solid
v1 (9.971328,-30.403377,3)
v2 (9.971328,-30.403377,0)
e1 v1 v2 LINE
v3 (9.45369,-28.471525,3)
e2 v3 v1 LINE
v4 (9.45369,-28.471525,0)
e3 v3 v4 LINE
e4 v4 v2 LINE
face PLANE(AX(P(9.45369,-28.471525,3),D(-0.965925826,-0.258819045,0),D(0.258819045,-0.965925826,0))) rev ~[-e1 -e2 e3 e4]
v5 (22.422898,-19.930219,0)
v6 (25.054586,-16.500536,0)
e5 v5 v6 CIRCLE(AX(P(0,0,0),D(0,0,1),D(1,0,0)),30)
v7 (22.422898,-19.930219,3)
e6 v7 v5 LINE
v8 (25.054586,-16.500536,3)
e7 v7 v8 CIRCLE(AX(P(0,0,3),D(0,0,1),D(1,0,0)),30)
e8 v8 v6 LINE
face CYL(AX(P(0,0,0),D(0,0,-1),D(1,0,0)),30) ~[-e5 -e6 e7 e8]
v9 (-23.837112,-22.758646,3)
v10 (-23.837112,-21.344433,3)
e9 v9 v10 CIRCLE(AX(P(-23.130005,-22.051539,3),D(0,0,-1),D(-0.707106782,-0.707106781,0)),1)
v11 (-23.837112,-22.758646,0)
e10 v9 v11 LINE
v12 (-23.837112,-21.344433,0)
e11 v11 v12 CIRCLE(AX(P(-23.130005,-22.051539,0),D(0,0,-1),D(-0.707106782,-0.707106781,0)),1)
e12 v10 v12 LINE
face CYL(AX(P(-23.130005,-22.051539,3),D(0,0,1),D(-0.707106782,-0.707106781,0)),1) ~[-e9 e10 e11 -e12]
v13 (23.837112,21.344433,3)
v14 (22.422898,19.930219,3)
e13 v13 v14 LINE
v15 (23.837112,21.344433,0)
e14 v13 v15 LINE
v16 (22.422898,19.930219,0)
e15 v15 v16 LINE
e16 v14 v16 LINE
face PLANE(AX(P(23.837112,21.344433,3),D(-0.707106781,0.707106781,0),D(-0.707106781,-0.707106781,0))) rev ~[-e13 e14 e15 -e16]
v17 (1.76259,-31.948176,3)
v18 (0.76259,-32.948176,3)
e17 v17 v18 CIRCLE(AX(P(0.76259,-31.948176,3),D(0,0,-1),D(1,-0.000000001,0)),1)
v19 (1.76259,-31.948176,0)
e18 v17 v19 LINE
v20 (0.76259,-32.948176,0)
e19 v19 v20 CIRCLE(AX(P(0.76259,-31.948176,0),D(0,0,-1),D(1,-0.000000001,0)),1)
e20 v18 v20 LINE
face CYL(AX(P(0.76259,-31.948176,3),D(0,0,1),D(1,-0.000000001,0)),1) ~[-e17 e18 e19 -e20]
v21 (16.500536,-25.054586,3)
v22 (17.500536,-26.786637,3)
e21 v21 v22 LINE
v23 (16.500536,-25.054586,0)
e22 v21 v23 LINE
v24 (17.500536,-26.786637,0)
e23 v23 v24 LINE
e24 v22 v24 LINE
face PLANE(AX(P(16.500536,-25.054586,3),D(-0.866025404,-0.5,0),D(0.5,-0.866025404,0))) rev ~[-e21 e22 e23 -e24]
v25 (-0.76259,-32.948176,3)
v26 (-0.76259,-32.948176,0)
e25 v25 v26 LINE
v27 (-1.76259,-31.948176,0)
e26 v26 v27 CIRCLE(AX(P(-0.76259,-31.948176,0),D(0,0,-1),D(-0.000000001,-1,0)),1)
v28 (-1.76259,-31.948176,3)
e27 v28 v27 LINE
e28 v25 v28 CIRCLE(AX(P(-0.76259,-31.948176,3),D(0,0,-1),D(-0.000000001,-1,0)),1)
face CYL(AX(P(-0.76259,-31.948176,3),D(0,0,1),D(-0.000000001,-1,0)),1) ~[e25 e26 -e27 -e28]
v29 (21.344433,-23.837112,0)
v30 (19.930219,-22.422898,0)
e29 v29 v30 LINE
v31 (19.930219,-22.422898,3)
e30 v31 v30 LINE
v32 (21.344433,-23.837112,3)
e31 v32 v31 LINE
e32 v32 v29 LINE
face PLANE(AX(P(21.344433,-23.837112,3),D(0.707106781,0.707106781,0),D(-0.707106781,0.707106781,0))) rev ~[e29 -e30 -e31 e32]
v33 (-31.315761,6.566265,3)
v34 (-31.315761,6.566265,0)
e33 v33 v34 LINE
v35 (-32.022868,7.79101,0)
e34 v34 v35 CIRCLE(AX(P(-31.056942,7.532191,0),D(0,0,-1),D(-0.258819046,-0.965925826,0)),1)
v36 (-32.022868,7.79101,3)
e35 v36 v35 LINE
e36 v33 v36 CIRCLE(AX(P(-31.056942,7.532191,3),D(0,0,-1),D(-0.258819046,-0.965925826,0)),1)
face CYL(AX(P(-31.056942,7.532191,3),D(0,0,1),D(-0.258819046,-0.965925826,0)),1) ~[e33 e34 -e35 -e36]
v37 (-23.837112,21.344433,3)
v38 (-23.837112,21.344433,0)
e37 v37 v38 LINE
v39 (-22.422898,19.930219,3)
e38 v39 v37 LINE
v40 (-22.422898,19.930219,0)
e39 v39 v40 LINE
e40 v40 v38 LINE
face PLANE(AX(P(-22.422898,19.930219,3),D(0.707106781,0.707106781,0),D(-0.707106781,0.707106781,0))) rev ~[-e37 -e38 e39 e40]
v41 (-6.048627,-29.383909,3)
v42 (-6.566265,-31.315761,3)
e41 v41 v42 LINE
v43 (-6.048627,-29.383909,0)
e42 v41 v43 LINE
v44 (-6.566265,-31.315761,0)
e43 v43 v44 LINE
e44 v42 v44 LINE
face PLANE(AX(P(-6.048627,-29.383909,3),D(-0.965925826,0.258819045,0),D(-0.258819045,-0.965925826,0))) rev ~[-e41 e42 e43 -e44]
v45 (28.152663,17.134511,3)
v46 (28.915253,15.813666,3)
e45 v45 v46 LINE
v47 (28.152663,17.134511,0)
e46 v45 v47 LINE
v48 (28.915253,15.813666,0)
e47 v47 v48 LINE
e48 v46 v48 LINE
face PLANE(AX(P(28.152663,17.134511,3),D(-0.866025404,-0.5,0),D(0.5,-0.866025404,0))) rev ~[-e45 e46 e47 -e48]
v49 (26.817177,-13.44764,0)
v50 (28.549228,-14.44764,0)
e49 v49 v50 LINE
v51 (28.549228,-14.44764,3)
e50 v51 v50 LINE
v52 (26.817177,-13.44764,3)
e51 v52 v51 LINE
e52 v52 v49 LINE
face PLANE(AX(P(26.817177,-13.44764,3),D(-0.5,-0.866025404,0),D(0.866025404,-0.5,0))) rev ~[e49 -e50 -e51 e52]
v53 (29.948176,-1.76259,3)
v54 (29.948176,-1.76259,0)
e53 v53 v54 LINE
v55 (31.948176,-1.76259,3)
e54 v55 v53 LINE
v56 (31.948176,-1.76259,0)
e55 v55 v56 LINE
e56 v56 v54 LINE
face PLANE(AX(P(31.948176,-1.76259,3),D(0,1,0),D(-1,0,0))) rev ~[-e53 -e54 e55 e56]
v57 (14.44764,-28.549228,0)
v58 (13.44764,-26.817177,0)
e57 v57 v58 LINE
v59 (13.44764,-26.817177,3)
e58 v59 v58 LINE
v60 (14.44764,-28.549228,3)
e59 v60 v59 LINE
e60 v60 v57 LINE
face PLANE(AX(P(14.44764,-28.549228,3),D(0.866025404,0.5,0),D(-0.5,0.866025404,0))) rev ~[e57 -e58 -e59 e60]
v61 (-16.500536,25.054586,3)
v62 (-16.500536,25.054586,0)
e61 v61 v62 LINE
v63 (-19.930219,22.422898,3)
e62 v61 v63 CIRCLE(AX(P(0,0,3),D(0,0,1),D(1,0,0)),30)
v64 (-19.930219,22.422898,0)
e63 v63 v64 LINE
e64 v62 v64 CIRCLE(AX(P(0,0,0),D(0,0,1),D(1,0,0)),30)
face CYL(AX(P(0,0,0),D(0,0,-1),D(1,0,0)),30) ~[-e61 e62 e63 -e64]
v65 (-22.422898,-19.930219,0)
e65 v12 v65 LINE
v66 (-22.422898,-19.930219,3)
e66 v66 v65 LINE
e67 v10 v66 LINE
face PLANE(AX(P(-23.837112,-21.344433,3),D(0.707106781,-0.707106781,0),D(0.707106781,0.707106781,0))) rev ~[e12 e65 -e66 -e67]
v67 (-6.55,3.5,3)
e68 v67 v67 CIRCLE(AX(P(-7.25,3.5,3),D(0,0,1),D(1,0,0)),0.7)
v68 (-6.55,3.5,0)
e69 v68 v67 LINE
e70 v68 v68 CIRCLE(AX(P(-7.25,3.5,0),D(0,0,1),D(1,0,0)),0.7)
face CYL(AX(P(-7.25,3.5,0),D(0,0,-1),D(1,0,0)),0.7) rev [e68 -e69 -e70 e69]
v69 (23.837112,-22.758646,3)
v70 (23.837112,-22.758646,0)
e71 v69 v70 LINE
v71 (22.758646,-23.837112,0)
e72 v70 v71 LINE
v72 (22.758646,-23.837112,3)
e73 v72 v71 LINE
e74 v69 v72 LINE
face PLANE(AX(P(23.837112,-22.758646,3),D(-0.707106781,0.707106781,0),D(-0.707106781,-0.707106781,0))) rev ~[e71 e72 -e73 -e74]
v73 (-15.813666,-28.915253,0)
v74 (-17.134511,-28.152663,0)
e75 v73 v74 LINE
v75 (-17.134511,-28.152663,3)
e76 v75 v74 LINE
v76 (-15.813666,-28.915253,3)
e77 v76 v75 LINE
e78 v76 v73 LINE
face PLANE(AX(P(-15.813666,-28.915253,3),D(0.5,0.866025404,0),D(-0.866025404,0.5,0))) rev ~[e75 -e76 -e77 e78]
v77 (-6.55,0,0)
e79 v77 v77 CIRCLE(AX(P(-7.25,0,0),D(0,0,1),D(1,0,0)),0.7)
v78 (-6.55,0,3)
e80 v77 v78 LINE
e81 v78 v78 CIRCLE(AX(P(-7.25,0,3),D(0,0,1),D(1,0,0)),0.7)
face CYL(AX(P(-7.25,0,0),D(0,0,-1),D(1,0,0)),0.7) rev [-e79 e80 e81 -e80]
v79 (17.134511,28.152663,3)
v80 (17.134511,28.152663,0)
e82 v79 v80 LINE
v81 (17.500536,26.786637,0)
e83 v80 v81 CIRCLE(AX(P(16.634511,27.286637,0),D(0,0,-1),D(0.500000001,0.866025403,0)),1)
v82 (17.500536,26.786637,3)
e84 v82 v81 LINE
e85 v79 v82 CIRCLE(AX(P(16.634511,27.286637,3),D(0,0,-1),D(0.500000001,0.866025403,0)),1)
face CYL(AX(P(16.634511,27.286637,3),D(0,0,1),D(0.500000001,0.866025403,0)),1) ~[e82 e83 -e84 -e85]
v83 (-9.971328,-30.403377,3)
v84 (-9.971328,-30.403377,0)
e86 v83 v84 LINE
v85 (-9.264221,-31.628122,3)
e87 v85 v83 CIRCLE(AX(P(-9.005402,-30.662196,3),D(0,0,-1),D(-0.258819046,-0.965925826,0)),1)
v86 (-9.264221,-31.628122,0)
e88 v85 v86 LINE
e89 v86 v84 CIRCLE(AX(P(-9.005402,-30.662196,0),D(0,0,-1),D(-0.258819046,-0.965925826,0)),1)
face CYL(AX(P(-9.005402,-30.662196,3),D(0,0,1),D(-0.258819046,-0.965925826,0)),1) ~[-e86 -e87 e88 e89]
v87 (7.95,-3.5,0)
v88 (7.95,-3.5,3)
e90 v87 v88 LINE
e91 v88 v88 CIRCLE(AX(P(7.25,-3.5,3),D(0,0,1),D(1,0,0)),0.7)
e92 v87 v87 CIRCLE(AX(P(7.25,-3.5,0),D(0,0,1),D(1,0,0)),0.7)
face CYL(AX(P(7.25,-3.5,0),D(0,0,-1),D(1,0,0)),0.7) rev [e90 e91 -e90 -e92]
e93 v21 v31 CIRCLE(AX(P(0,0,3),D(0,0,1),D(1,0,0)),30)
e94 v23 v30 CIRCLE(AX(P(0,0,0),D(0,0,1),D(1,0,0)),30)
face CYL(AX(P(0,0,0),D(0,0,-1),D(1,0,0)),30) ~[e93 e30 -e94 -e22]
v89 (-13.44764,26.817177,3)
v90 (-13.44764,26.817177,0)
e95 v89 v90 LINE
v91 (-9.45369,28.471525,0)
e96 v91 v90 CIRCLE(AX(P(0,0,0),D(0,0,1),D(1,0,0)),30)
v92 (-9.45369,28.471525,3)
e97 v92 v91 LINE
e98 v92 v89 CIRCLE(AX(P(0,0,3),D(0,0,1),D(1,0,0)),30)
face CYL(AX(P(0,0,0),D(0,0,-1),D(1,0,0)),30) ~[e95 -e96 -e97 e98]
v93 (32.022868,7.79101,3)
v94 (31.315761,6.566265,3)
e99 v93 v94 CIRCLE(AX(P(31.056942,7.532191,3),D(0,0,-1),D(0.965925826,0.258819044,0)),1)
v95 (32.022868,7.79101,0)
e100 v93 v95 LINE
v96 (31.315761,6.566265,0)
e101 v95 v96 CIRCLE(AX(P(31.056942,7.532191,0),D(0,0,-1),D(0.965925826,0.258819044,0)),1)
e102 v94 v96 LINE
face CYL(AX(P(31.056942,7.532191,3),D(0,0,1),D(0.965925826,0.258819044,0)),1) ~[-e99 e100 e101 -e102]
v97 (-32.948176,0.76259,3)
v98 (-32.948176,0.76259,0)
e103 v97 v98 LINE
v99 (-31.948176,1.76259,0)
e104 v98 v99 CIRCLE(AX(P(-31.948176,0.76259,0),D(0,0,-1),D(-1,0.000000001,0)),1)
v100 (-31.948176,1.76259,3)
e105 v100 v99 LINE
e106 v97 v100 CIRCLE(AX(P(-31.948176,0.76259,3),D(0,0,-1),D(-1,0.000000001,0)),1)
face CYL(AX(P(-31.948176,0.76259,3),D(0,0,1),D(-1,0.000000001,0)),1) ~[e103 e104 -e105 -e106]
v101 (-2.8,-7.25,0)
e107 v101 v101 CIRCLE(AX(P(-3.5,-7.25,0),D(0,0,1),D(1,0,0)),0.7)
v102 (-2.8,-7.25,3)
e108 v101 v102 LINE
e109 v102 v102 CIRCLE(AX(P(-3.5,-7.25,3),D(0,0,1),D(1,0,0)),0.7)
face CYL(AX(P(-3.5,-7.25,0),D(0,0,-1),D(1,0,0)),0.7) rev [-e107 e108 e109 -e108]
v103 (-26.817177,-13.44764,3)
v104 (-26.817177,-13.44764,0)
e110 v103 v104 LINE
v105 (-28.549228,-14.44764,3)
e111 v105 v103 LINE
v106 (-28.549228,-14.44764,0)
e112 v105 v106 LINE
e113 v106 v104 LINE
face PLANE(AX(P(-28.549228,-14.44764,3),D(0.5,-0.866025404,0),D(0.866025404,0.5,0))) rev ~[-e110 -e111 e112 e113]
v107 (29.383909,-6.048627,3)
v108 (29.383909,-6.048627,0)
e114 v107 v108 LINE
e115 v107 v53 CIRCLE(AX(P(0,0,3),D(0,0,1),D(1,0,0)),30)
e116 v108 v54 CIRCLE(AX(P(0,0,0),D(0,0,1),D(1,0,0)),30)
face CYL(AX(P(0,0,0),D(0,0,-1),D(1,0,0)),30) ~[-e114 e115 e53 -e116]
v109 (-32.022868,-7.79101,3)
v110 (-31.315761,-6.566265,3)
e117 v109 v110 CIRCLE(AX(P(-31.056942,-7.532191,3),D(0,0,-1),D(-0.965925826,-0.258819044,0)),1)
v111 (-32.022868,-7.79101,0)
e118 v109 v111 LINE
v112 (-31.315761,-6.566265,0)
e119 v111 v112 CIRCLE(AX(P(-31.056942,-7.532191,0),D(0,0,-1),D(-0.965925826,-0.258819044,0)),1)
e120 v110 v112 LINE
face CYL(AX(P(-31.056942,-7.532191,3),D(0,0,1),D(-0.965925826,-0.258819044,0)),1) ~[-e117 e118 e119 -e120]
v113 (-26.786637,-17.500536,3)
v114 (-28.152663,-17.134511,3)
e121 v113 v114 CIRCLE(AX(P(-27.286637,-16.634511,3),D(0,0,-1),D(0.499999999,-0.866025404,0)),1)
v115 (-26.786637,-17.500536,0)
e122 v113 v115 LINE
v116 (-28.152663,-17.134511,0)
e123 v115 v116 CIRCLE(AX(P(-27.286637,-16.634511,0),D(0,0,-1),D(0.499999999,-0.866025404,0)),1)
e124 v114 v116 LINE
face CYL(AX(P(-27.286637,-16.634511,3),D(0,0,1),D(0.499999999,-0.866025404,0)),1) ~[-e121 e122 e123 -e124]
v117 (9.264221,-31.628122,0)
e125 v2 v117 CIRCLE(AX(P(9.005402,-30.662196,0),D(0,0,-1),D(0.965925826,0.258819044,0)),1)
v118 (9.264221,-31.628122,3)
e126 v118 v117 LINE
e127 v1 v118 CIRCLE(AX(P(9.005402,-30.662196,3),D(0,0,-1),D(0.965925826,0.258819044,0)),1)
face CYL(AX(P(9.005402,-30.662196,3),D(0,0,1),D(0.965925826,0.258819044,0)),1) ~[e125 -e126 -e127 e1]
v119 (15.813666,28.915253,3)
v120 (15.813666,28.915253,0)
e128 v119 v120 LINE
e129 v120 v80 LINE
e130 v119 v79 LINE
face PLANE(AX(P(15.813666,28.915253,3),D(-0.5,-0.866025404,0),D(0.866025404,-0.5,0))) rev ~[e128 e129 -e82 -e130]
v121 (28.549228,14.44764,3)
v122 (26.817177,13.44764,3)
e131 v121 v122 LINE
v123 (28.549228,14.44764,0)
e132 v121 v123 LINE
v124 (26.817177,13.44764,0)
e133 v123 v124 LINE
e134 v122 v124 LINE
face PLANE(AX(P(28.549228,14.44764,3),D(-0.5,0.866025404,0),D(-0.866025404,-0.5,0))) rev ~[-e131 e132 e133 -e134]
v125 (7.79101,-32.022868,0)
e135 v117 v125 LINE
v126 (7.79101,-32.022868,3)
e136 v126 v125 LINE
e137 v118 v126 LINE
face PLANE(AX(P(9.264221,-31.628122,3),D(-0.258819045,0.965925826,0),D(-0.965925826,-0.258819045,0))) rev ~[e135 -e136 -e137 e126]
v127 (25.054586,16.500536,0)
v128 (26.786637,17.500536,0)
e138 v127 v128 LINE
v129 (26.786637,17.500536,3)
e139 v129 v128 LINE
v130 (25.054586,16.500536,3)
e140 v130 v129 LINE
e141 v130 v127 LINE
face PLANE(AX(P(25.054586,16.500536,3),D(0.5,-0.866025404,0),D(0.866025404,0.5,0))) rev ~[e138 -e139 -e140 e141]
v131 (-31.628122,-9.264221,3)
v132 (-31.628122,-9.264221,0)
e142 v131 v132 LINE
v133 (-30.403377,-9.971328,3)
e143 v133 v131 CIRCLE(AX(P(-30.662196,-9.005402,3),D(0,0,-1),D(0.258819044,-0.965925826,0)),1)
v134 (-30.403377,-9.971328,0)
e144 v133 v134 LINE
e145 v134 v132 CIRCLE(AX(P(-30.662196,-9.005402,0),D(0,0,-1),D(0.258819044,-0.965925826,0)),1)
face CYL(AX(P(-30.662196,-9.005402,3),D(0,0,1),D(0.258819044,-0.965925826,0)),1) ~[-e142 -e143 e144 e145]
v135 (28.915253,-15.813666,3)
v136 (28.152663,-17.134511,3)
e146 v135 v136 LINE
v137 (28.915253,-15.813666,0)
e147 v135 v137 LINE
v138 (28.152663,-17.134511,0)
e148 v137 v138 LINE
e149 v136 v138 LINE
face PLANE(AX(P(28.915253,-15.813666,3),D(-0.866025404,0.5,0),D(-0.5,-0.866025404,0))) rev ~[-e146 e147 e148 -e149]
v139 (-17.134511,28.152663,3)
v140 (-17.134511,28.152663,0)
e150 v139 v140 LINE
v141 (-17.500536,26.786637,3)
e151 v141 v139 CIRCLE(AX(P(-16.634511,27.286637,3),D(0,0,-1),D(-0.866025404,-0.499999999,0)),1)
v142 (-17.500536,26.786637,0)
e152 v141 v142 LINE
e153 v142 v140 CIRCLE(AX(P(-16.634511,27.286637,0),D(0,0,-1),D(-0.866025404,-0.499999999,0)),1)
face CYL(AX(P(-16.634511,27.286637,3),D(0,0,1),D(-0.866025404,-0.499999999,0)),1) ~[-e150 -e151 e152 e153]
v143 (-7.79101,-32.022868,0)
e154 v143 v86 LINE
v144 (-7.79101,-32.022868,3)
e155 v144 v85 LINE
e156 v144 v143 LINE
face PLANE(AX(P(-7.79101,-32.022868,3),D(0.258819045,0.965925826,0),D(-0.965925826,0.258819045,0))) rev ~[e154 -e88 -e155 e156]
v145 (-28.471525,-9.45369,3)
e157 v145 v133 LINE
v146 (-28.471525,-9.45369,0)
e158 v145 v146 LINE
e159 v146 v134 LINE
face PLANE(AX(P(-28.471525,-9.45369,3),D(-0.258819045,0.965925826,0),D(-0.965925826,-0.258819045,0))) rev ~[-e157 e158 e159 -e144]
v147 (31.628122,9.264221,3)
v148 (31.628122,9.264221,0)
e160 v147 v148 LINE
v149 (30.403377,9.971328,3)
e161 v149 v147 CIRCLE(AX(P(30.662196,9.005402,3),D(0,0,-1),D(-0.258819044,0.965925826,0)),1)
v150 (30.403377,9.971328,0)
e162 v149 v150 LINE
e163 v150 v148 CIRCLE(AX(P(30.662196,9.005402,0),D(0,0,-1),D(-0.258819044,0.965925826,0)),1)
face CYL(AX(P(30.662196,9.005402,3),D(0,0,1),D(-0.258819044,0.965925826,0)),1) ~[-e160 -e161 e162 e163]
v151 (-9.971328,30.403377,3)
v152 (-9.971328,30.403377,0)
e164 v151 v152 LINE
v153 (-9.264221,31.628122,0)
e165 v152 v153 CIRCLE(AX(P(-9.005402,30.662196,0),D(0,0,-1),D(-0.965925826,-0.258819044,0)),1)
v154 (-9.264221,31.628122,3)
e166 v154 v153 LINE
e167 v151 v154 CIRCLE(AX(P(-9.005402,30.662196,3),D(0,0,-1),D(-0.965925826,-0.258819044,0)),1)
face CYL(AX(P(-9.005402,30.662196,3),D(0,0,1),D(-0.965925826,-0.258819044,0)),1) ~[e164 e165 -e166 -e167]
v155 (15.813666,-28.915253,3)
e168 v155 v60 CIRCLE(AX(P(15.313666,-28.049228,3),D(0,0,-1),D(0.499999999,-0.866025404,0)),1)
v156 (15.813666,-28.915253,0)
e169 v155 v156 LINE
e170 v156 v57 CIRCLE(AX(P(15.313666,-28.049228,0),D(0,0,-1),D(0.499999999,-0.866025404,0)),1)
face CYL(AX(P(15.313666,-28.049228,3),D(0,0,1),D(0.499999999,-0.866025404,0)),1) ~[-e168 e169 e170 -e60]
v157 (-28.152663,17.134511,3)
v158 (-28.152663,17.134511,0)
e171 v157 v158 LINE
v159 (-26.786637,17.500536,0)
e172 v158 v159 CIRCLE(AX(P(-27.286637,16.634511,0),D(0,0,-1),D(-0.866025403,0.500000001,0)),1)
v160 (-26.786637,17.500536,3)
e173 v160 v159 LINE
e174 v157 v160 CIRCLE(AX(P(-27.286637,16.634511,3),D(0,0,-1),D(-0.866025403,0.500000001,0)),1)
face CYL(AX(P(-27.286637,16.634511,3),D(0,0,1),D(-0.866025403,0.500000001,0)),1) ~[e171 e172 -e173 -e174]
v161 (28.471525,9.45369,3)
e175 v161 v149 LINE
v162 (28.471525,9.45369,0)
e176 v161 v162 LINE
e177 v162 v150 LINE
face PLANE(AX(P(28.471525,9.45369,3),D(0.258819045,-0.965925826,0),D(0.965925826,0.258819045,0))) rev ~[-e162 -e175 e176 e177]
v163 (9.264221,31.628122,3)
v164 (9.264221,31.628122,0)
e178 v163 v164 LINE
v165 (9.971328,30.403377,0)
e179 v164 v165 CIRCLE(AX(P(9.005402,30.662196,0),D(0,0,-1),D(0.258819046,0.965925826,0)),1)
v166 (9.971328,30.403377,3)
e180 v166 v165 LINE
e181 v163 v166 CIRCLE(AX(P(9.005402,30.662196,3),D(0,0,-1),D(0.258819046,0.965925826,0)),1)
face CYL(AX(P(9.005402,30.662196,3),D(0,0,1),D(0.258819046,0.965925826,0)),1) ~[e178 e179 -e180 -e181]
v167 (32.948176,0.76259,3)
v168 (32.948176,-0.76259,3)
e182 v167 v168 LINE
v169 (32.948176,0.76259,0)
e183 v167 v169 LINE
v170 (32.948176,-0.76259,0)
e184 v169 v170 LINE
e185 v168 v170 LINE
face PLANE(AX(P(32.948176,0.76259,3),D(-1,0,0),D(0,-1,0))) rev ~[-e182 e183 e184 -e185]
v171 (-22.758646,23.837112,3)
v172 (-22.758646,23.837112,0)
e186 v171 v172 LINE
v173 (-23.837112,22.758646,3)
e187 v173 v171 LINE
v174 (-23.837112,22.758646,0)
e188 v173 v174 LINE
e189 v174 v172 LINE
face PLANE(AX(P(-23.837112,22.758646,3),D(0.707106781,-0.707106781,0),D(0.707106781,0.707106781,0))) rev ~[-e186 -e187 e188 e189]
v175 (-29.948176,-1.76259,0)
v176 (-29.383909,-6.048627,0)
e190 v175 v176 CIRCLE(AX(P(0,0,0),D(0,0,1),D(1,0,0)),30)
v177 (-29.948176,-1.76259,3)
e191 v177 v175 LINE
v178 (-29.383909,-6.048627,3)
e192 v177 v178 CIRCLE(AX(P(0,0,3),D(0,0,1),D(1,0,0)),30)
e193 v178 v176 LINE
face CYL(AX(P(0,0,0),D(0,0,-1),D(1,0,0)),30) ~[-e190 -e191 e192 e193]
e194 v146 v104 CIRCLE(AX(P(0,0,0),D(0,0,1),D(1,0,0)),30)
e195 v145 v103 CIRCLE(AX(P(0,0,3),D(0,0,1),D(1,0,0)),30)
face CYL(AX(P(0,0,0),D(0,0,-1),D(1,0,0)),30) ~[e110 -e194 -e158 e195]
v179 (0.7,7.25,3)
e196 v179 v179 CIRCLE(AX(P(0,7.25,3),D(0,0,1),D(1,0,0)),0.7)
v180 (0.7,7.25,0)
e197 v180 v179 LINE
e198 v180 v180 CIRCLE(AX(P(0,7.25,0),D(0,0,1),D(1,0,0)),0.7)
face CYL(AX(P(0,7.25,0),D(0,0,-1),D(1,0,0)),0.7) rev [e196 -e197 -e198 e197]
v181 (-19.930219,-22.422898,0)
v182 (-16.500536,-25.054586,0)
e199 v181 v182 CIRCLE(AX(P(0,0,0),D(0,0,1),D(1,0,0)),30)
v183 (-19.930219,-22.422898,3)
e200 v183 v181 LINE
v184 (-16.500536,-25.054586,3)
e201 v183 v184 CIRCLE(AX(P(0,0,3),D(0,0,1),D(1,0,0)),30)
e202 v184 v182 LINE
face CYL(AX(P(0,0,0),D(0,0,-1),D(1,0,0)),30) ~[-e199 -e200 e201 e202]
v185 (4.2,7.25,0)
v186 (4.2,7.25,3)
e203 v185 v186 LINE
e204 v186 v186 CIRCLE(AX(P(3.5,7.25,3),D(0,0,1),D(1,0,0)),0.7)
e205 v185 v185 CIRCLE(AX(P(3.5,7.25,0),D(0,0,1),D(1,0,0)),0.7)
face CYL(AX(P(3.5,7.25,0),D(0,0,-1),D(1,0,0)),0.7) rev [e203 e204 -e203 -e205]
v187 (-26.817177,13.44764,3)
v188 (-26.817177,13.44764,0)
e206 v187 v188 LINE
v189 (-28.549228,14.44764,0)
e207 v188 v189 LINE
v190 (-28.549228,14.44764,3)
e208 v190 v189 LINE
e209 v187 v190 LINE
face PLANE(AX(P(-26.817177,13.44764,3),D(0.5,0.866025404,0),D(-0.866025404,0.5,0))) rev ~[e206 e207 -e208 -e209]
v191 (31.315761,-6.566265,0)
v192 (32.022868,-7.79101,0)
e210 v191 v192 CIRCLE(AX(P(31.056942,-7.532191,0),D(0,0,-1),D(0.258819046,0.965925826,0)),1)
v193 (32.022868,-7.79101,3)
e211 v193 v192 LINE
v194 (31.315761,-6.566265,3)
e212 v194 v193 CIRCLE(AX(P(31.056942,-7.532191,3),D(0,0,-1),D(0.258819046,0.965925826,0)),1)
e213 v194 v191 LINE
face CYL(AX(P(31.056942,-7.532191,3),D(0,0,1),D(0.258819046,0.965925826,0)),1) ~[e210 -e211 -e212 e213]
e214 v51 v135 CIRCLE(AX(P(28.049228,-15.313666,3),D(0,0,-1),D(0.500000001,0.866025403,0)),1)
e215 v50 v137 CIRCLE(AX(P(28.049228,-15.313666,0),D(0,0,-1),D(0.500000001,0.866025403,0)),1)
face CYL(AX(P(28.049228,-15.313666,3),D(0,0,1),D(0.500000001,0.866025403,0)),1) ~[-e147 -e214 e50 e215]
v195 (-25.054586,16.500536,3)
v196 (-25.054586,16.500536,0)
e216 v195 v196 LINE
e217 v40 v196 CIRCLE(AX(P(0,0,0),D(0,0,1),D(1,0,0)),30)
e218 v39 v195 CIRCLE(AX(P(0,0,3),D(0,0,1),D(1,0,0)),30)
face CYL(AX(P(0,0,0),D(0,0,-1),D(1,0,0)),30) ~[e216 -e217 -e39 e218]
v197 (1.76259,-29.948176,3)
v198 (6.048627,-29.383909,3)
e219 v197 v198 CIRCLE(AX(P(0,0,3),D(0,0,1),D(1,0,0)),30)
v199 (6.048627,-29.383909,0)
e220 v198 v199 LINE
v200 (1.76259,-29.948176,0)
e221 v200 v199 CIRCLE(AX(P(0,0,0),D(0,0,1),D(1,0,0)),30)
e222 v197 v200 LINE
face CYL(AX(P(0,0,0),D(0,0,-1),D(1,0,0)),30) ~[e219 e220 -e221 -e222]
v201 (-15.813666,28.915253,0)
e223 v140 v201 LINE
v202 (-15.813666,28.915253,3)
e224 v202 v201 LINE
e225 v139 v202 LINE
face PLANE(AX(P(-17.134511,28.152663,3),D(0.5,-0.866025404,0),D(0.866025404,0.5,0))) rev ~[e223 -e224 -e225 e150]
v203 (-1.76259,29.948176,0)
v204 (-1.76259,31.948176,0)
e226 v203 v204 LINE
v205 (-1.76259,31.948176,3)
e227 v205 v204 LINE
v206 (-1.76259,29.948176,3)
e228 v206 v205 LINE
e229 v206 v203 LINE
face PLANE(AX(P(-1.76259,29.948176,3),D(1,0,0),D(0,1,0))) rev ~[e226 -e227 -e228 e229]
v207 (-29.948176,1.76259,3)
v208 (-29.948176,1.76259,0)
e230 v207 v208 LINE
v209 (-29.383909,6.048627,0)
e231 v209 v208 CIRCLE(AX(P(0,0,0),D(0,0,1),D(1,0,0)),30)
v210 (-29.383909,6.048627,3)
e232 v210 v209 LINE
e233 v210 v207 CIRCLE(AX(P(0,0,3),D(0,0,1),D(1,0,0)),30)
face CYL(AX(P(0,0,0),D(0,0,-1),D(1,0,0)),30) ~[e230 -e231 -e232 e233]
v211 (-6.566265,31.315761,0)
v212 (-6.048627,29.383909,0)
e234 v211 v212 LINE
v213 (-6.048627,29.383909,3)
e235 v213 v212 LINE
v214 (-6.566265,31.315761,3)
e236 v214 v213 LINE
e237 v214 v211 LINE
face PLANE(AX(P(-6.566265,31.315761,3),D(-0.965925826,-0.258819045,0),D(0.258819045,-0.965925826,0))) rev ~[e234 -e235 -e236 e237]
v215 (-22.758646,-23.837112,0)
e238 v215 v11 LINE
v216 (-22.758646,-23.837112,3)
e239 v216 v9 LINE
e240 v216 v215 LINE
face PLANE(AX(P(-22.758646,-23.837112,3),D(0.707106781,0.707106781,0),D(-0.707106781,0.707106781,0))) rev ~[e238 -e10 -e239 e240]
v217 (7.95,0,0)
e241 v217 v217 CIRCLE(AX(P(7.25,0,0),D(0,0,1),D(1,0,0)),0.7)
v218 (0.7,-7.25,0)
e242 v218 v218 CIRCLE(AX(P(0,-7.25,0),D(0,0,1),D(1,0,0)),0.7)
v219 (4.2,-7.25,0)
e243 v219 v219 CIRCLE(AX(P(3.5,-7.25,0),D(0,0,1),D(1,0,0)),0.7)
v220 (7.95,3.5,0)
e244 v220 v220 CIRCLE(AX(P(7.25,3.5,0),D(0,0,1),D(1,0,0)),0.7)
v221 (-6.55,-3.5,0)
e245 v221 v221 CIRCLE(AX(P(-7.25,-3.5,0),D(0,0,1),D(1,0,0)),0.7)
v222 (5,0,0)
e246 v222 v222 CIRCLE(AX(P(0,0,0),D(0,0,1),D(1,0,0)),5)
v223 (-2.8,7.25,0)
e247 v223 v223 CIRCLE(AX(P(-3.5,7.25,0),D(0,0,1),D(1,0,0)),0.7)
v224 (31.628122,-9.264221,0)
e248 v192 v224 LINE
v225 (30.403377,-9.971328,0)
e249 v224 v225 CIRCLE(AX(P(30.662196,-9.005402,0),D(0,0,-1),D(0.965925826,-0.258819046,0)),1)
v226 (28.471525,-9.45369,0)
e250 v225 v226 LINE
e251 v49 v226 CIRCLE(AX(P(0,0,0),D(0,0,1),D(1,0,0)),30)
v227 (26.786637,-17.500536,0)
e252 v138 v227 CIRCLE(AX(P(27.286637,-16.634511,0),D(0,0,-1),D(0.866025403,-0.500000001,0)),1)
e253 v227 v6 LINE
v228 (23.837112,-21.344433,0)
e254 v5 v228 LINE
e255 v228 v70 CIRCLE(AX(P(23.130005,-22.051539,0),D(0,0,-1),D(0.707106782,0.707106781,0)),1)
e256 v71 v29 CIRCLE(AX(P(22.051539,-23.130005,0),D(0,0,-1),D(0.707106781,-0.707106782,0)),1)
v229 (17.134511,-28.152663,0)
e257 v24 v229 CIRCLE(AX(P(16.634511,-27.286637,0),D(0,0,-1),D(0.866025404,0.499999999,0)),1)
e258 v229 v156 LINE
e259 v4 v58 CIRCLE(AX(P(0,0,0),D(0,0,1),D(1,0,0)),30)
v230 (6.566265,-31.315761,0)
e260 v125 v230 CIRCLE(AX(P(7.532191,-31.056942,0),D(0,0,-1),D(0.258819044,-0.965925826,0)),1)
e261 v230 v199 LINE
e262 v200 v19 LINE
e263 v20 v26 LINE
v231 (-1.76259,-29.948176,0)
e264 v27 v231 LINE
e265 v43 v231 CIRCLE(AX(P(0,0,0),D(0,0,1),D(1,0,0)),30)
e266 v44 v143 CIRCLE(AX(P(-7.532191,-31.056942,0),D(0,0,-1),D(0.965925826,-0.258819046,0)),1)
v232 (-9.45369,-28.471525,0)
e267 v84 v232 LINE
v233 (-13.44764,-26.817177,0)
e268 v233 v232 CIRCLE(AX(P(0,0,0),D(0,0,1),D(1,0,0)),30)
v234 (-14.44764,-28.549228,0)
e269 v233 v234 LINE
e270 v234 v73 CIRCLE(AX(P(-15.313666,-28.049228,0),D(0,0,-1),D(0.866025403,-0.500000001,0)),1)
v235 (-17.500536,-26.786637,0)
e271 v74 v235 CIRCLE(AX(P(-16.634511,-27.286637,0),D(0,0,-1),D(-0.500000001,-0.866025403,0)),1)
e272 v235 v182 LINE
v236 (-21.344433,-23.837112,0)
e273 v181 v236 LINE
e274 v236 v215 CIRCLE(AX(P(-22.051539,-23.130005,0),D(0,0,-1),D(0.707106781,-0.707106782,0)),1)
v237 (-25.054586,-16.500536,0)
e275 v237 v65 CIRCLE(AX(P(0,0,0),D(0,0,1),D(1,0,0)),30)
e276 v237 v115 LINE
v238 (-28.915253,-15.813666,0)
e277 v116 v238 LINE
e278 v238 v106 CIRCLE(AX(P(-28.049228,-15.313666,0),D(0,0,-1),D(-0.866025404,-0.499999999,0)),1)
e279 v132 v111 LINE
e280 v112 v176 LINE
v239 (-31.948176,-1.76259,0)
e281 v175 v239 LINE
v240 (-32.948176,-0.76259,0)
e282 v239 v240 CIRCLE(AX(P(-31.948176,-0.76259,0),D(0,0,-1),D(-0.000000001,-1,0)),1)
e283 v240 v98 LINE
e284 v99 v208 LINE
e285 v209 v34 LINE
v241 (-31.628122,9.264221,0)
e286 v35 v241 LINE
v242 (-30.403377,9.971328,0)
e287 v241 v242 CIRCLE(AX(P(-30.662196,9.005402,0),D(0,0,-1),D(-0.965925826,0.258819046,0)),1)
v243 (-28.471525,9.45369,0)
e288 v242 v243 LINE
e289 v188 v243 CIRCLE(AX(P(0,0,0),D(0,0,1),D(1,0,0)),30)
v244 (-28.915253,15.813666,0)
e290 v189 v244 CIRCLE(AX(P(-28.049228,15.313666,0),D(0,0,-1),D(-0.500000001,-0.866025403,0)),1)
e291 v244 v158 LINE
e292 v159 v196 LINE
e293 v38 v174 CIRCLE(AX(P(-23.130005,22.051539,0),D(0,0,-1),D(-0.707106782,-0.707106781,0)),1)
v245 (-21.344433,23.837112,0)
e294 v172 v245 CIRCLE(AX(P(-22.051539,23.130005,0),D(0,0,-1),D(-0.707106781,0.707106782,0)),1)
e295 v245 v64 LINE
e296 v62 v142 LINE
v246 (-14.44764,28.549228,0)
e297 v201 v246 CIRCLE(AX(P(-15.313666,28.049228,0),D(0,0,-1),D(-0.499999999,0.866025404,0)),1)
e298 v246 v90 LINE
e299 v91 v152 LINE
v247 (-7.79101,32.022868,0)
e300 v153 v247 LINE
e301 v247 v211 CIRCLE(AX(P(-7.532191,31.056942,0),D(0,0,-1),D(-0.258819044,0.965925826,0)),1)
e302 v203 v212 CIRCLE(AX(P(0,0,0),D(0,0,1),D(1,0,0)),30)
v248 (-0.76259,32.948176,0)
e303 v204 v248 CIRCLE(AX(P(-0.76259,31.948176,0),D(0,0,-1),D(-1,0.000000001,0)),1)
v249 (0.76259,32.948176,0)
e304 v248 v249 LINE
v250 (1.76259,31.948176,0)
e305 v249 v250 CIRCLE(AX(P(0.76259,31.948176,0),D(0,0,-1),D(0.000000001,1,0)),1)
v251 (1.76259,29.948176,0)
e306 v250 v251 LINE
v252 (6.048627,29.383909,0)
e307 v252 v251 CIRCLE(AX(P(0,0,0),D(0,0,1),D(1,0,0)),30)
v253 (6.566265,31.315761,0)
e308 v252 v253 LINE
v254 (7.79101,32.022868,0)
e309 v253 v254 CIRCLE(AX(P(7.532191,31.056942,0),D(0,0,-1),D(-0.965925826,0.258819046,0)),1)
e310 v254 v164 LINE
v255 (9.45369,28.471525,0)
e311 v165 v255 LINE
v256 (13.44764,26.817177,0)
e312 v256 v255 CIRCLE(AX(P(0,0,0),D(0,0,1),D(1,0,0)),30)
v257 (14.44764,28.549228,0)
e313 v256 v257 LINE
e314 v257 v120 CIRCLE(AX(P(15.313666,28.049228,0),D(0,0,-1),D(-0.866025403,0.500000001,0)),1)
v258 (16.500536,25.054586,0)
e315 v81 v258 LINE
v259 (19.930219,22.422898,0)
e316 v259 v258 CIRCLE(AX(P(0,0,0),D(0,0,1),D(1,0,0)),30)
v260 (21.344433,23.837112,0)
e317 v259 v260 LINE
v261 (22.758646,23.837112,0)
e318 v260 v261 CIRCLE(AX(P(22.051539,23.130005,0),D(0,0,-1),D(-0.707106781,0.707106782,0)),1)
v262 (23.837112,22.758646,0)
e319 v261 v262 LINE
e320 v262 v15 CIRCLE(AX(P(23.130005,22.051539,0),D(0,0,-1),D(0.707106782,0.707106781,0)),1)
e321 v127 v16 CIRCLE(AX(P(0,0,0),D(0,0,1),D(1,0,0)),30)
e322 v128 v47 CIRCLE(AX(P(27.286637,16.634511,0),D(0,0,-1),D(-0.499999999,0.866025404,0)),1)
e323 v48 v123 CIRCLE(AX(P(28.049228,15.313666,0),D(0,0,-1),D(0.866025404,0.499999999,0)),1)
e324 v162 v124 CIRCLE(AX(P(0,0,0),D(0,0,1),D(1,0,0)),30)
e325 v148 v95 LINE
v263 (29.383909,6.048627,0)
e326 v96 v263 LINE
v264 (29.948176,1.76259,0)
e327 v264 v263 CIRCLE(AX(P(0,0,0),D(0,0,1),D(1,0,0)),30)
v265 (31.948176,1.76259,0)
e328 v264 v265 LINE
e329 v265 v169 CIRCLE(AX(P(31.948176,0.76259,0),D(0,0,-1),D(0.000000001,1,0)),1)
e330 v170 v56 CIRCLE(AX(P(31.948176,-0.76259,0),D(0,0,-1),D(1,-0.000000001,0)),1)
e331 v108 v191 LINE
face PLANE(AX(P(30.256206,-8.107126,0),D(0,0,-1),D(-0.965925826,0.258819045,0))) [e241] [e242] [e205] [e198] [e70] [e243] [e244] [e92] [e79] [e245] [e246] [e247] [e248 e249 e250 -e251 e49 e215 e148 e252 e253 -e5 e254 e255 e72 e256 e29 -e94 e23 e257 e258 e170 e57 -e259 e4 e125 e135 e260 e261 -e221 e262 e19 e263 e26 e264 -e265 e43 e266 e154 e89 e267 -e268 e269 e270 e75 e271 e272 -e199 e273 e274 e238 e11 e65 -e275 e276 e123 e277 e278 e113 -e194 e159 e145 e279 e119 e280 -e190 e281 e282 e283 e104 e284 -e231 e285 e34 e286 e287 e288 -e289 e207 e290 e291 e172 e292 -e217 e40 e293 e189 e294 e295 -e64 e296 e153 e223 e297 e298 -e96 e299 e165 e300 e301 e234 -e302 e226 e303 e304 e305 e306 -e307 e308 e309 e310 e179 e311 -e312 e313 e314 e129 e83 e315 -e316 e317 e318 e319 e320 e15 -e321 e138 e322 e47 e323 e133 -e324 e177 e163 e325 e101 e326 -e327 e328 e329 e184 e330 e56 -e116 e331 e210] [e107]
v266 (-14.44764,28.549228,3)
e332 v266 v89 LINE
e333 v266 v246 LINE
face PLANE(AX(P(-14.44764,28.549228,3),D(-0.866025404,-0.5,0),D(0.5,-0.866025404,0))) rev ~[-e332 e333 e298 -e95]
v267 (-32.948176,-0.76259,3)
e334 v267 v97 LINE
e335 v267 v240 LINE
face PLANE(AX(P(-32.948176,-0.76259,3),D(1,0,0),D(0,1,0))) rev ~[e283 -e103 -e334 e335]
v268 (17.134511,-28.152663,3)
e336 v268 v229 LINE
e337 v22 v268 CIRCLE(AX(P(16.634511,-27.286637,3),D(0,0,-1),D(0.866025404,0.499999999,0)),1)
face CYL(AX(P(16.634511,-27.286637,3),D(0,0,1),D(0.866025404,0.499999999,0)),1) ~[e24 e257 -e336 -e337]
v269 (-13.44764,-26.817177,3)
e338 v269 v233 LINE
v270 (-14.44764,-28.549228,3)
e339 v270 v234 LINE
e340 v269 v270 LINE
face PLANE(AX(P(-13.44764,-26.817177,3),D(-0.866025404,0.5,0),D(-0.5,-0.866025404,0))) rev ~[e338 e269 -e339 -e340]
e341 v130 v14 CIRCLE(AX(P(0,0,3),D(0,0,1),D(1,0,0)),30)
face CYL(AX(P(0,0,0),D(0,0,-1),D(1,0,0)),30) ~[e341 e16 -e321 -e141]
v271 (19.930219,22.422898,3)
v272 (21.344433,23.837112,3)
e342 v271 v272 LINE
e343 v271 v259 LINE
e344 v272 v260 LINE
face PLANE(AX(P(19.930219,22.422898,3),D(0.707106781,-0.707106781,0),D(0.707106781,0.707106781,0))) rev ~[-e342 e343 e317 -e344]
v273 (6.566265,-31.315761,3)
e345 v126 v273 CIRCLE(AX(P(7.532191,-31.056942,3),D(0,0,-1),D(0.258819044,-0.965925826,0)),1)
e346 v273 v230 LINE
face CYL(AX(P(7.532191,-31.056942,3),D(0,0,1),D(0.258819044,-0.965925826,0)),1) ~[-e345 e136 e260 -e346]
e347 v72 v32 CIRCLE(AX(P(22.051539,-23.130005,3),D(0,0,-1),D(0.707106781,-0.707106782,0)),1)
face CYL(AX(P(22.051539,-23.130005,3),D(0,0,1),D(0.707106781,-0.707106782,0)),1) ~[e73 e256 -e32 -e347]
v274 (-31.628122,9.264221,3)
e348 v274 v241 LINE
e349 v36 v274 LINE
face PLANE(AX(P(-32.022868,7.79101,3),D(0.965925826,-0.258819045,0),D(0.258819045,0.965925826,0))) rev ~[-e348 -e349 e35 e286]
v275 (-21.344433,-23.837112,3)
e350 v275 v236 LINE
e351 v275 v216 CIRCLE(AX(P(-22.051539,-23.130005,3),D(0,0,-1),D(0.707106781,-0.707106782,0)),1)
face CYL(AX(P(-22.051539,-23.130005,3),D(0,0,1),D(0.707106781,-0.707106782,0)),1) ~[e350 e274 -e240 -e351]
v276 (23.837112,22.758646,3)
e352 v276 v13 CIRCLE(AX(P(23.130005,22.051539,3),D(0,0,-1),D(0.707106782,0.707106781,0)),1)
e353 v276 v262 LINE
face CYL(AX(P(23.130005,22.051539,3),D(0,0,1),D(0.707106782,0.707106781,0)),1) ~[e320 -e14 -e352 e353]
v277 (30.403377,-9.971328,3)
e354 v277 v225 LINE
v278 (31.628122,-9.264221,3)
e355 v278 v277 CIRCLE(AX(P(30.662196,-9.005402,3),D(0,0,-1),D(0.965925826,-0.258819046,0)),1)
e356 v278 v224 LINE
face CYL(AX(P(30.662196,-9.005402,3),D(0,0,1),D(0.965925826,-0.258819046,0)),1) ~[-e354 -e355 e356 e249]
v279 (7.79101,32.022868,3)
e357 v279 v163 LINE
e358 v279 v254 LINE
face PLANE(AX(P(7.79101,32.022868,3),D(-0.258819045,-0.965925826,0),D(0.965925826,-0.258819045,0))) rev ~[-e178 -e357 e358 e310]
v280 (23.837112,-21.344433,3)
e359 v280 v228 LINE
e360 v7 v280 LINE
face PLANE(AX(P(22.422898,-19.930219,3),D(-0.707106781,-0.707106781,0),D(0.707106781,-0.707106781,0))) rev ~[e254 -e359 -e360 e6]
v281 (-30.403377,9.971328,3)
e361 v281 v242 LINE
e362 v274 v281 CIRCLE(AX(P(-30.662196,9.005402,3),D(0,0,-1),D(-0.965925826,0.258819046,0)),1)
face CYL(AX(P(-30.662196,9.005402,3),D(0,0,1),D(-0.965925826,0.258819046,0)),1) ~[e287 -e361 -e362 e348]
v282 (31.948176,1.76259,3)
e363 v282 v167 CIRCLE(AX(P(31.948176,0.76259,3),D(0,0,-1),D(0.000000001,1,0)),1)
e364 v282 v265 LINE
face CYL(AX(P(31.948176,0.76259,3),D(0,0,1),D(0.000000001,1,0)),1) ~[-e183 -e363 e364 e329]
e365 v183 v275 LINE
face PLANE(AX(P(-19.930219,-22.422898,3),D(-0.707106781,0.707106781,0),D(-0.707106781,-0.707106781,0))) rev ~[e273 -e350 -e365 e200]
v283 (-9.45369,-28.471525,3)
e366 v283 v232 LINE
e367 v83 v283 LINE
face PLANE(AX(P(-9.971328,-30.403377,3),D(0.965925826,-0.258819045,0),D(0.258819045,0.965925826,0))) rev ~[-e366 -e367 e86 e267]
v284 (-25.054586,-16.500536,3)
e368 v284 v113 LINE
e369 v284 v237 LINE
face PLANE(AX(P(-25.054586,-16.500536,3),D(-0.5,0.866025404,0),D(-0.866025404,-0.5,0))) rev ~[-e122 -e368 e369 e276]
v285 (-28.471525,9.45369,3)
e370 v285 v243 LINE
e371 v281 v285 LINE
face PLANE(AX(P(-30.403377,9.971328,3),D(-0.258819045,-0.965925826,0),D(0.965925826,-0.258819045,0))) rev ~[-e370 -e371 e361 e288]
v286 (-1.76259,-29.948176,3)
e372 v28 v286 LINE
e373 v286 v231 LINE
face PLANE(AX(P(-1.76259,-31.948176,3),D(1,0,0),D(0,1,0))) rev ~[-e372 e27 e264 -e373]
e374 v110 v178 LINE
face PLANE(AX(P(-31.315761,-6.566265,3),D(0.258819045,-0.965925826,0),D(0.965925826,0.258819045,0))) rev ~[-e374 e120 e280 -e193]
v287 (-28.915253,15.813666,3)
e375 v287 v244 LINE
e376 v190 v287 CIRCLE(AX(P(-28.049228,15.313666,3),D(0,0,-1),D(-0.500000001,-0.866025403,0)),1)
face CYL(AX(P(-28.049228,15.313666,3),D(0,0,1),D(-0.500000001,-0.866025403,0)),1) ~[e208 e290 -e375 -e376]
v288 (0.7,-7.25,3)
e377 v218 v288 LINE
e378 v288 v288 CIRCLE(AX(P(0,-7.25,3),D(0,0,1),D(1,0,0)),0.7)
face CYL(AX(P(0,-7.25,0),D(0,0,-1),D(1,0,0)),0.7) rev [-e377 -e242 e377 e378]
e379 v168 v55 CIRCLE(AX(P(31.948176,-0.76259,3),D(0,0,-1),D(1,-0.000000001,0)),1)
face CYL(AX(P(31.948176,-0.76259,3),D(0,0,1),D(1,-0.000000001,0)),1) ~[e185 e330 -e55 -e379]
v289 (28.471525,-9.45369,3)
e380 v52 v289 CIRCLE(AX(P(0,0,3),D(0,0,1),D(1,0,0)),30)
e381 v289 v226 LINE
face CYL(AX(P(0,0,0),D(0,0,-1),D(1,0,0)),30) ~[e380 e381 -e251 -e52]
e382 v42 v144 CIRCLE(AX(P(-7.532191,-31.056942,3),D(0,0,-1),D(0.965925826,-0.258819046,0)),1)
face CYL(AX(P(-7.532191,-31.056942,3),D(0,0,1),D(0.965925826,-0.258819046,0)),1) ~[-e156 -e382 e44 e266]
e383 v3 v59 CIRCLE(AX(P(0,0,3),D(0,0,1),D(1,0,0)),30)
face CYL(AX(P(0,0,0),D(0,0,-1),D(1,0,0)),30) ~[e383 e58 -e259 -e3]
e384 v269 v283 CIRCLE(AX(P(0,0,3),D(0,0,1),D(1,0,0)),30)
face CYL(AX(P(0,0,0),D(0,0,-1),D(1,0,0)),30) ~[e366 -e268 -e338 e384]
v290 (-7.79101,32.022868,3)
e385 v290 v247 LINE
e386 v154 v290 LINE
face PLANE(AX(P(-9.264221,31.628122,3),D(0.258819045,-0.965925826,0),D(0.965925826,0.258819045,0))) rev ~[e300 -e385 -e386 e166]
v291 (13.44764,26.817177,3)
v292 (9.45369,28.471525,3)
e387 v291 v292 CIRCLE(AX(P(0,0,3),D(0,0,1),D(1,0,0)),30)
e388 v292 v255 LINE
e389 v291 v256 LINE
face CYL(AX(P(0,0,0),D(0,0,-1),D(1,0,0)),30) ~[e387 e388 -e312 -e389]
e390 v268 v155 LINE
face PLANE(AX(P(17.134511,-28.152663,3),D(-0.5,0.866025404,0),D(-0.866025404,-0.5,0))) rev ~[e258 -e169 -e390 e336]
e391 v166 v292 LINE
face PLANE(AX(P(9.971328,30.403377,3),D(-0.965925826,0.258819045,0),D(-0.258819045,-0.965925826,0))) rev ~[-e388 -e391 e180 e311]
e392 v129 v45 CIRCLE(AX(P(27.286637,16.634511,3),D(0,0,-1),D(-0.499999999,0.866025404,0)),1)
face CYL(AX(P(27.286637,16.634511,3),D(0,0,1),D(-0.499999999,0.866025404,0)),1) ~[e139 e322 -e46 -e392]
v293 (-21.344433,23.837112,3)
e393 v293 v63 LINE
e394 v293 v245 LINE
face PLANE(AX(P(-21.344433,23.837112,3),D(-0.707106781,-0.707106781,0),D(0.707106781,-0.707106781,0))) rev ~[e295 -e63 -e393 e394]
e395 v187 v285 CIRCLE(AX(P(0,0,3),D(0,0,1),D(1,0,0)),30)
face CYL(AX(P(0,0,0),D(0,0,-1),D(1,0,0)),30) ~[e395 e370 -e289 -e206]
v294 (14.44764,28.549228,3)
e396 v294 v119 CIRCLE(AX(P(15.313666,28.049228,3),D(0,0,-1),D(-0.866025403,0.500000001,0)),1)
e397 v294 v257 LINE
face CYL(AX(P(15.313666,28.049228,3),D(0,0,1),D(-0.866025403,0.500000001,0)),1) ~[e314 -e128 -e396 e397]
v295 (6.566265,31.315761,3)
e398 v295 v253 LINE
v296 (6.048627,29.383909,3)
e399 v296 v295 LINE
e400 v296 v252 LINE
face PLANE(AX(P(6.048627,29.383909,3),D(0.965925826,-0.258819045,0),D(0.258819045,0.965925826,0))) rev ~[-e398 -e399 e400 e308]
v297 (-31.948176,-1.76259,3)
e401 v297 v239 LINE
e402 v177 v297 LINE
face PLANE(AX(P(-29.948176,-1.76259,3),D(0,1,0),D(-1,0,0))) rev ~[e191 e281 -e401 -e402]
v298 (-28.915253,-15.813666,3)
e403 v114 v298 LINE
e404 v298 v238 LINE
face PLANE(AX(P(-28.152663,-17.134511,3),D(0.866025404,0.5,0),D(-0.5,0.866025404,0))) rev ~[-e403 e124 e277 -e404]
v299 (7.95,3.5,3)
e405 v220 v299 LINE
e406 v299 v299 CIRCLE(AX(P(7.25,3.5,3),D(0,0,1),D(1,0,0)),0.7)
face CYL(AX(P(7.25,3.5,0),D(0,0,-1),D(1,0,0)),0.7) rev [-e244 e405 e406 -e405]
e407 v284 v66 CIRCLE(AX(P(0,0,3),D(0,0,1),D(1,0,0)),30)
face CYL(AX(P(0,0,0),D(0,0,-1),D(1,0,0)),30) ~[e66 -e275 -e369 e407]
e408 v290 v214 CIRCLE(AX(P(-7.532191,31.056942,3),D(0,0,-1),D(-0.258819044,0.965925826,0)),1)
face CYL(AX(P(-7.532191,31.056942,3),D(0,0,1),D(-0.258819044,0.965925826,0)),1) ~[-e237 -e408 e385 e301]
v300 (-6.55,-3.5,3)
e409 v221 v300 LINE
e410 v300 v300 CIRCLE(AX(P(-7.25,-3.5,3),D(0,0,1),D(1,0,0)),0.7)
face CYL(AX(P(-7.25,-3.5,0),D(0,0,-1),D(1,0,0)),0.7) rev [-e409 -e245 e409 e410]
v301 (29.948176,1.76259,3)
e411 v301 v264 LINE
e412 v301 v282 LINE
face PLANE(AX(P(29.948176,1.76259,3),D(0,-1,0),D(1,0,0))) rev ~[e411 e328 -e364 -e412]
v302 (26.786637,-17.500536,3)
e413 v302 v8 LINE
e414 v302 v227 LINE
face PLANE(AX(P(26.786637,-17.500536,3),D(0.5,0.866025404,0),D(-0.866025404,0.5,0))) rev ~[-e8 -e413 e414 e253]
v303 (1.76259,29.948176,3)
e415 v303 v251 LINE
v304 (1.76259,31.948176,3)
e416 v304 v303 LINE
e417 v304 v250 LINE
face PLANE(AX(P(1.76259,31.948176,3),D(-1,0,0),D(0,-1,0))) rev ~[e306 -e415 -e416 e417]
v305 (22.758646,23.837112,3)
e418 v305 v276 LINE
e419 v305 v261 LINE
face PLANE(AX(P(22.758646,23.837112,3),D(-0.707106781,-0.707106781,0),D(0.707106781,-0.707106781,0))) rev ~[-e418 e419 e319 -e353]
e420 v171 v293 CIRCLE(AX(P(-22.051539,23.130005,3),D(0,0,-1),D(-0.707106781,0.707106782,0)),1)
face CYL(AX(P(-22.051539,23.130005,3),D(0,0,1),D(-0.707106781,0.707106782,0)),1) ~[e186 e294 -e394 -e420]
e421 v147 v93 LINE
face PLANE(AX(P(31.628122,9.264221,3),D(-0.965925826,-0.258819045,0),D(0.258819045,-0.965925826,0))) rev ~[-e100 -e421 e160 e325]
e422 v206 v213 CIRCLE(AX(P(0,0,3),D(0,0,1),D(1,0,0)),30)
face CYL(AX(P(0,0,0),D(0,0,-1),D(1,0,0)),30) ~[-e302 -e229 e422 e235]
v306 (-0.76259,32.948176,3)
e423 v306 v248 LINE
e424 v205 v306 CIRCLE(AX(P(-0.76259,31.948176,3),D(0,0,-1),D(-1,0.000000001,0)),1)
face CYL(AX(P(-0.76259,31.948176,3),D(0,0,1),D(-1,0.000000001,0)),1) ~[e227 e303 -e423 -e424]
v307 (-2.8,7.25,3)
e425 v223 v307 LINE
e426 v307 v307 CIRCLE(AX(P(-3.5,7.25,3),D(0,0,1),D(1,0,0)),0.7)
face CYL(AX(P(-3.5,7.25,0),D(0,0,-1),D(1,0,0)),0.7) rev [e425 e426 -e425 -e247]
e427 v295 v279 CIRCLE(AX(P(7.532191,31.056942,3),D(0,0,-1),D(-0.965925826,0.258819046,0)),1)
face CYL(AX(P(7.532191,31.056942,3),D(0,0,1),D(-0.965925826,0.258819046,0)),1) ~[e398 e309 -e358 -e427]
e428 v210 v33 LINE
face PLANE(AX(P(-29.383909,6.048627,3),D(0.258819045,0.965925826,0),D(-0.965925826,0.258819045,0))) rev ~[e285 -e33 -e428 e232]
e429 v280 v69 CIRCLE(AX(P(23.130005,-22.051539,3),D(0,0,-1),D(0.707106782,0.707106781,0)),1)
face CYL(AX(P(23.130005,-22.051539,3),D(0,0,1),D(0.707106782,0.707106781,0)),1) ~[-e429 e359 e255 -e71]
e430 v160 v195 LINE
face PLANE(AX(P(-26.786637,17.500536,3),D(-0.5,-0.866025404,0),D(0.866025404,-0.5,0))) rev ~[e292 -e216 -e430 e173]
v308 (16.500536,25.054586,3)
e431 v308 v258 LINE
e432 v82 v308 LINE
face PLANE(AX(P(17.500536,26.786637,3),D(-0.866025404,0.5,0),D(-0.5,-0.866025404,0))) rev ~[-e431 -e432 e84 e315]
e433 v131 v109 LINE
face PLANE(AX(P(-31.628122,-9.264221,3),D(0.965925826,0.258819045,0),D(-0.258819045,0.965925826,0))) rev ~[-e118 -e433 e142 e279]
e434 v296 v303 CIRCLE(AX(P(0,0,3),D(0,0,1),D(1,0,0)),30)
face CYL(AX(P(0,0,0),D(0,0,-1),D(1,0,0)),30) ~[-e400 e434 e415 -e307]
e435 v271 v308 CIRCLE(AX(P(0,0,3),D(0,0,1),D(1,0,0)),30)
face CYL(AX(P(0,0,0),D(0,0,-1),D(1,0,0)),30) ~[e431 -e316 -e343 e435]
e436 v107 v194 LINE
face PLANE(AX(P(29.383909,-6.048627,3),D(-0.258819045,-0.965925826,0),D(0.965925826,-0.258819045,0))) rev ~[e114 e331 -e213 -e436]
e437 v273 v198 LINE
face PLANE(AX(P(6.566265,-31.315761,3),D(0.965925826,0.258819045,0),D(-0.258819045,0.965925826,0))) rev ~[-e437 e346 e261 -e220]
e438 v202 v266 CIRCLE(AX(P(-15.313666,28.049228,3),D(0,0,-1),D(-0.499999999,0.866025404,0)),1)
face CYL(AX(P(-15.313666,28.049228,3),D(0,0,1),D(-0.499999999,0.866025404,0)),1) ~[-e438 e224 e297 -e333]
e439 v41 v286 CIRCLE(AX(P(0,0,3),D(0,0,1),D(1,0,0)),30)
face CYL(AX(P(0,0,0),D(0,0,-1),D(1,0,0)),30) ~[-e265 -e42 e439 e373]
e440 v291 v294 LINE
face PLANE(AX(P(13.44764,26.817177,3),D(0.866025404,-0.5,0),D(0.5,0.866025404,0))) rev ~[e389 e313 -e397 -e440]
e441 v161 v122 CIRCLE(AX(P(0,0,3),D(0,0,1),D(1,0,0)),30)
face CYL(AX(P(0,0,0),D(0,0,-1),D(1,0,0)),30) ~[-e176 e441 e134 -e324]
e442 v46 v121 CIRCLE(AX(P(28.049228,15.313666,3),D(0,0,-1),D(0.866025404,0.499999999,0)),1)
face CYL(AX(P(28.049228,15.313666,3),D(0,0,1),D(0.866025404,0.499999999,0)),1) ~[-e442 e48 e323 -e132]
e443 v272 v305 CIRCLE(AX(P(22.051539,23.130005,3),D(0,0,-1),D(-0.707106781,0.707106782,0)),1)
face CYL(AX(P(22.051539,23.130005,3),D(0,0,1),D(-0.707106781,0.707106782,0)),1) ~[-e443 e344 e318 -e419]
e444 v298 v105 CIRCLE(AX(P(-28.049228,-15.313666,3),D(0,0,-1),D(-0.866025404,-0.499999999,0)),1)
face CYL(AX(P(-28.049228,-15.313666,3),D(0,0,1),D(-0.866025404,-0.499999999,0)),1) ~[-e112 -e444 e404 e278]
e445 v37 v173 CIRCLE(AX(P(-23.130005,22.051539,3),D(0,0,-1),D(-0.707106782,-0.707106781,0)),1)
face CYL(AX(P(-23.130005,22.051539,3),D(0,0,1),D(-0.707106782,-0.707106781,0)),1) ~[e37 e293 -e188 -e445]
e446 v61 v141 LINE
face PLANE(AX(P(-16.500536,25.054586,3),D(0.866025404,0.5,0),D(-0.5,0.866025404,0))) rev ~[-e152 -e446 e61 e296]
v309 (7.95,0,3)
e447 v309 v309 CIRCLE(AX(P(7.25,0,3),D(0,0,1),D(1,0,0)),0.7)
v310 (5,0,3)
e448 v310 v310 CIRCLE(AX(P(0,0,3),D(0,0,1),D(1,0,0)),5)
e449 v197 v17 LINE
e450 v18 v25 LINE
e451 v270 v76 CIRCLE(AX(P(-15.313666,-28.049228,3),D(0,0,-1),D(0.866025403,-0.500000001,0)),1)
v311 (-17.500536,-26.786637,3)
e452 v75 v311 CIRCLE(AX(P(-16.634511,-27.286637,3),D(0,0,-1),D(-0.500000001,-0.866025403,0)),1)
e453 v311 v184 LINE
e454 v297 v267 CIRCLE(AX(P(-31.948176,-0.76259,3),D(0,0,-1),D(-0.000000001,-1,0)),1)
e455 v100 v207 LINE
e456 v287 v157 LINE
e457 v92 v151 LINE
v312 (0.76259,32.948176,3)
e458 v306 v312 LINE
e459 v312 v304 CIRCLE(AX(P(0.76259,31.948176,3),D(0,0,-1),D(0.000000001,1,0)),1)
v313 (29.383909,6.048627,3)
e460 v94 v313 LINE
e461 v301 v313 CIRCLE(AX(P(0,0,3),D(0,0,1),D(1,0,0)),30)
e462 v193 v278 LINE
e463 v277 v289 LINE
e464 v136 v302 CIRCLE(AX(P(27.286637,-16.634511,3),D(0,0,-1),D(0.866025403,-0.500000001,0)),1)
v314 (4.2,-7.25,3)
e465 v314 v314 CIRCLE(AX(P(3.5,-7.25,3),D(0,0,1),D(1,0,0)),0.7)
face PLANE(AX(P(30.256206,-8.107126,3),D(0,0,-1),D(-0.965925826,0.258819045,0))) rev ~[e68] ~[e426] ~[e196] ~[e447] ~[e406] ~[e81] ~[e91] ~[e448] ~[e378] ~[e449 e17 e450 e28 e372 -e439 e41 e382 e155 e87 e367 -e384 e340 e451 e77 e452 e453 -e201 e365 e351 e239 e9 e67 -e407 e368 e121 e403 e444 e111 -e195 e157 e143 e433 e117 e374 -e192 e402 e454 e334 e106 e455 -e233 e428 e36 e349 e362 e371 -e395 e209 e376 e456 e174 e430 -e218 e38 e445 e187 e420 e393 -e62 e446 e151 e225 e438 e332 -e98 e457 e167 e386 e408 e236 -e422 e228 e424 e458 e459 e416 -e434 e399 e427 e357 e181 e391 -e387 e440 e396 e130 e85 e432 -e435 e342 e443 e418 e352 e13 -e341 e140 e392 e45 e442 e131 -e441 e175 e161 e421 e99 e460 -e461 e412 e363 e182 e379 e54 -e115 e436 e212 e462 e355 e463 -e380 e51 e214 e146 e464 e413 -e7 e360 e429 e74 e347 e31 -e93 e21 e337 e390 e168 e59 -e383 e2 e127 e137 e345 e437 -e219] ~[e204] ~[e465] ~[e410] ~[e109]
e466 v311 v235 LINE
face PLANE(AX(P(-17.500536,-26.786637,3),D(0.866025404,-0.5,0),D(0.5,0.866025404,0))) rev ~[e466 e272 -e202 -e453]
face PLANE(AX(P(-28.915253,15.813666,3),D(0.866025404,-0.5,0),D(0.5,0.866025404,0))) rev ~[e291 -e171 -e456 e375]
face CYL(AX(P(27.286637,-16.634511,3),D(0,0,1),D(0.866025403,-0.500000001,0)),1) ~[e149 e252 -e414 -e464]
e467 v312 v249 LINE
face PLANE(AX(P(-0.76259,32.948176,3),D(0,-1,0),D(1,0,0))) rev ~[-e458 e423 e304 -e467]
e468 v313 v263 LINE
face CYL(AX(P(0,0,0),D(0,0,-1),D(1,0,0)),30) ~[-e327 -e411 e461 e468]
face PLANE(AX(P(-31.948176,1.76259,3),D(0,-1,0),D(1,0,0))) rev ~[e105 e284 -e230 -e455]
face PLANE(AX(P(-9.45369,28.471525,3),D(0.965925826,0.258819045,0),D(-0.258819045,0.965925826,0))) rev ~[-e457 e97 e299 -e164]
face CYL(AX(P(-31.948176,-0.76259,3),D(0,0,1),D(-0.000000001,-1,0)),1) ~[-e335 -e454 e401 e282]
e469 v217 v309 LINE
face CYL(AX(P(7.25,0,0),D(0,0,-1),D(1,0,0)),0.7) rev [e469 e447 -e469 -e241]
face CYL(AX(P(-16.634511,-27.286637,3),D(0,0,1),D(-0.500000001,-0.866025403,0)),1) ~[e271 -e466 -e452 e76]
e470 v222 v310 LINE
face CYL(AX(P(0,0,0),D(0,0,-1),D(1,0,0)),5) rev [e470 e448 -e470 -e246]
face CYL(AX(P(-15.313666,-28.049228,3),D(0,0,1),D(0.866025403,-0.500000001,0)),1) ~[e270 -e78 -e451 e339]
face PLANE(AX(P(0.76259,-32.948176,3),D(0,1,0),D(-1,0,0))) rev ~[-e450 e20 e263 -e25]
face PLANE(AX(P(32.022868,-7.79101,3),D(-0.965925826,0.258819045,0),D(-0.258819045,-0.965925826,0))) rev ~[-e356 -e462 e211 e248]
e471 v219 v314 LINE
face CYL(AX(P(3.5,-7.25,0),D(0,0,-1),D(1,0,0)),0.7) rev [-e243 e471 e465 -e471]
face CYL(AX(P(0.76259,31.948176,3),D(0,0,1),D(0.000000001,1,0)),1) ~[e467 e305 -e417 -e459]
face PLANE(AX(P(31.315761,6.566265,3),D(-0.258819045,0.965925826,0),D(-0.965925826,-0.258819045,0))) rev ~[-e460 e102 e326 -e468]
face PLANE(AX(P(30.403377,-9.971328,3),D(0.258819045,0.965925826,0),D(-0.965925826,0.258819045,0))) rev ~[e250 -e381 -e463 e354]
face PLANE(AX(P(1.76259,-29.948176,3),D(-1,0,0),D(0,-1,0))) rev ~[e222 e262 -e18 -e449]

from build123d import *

# Parameters (mm, degrees)
SKETCH1_R           = 30
SKETCH1_R_2         = 5
SKETCH1_R_3         = 0.7
BOSS_EXTRUDE1_DEPTH = 3
BOSS_EXTRUDE2_DEPTH = 3
CIRPATTERN2_COUNT   = 24


with BuildPart() as part:
    # Sketch1 → Boss-Extrude1 (new body)
    with BuildSketch(Plane.XY):
        Circle(SKETCH1_R)
        Circle(SKETCH1_R_2, mode=Mode.SUBTRACT)
        with Locations((-3.5, 7.25)):
            Circle(SKETCH1_R_3, mode=Mode.SUBTRACT)
        with Locations((0, 7.25)):
            Circle(SKETCH1_R_3, mode=Mode.SUBTRACT)
        with Locations((3.5, 7.25)):
            Circle(SKETCH1_R_3, mode=Mode.SUBTRACT)
        with Locations((7.25, 3.5)):
            Circle(SKETCH1_R_3, mode=Mode.SUBTRACT)
        with Locations((7.25, 0)):
            Circle(SKETCH1_R_3, mode=Mode.SUBTRACT)
        with Locations((7.25, -3.5)):
            Circle(SKETCH1_R_3, mode=Mode.SUBTRACT)
        with Locations((3.5, -7.25)):
            Circle(SKETCH1_R_3, mode=Mode.SUBTRACT)
        with Locations((0, -7.25)):
            Circle(SKETCH1_R_3, mode=Mode.SUBTRACT)
        with Locations((-3.5, -7.25)):
            Circle(SKETCH1_R_3, mode=Mode.SUBTRACT)
        with Locations((-7.25, -3.5)):
            Circle(SKETCH1_R_3, mode=Mode.SUBTRACT)
        with Locations((-7.25, 0)):
            Circle(SKETCH1_R_3, mode=Mode.SUBTRACT)
        with Locations((-7.25, 3.5)):
            Circle(SKETCH1_R_3, mode=Mode.SUBTRACT)
    extrude(amount=BOSS_EXTRUDE1_DEPTH)

    # Sketch2 → Boss-Extrude2 (add)
    with BuildSketch(Plane.XY.offset(3)):
        with BuildLine():
            Line((29.948176492, 1.762590363), (31.948176492, 1.762590363))
            ThreePointArc((31.948176492, 1.762590363), (32.655283273, 1.469697144), (32.948176492, 0.762590363))
            Line((32.948176492, 0.762590363), (32.948176492, -0.762590363))
            ThreePointArc((32.948176492, -0.762590363), (32.655283273, -1.469697144), (31.948176492, -1.762590363))
            Line((31.948176492, -1.762590363), (29.948176492, -1.762590363))
            Line((29.948176492, -1.762590363), (29.948176492, 1.762590363))
        make_face()
    boss_extrude2 = extrude(amount=-BOSS_EXTRUDE2_DEPTH)

    # CirPattern2: Boss-Extrude2 ×24 about axis
    cirpattern2_axis = Axis((0, 0, 0), (0, 0, 1))
    for i in range(1, CIRPATTERN2_COUNT):
        add(boss_extrude2.rotate(cirpattern2_axis, i * 360 / CIRPATTERN2_COUNT))


solid = part.part
